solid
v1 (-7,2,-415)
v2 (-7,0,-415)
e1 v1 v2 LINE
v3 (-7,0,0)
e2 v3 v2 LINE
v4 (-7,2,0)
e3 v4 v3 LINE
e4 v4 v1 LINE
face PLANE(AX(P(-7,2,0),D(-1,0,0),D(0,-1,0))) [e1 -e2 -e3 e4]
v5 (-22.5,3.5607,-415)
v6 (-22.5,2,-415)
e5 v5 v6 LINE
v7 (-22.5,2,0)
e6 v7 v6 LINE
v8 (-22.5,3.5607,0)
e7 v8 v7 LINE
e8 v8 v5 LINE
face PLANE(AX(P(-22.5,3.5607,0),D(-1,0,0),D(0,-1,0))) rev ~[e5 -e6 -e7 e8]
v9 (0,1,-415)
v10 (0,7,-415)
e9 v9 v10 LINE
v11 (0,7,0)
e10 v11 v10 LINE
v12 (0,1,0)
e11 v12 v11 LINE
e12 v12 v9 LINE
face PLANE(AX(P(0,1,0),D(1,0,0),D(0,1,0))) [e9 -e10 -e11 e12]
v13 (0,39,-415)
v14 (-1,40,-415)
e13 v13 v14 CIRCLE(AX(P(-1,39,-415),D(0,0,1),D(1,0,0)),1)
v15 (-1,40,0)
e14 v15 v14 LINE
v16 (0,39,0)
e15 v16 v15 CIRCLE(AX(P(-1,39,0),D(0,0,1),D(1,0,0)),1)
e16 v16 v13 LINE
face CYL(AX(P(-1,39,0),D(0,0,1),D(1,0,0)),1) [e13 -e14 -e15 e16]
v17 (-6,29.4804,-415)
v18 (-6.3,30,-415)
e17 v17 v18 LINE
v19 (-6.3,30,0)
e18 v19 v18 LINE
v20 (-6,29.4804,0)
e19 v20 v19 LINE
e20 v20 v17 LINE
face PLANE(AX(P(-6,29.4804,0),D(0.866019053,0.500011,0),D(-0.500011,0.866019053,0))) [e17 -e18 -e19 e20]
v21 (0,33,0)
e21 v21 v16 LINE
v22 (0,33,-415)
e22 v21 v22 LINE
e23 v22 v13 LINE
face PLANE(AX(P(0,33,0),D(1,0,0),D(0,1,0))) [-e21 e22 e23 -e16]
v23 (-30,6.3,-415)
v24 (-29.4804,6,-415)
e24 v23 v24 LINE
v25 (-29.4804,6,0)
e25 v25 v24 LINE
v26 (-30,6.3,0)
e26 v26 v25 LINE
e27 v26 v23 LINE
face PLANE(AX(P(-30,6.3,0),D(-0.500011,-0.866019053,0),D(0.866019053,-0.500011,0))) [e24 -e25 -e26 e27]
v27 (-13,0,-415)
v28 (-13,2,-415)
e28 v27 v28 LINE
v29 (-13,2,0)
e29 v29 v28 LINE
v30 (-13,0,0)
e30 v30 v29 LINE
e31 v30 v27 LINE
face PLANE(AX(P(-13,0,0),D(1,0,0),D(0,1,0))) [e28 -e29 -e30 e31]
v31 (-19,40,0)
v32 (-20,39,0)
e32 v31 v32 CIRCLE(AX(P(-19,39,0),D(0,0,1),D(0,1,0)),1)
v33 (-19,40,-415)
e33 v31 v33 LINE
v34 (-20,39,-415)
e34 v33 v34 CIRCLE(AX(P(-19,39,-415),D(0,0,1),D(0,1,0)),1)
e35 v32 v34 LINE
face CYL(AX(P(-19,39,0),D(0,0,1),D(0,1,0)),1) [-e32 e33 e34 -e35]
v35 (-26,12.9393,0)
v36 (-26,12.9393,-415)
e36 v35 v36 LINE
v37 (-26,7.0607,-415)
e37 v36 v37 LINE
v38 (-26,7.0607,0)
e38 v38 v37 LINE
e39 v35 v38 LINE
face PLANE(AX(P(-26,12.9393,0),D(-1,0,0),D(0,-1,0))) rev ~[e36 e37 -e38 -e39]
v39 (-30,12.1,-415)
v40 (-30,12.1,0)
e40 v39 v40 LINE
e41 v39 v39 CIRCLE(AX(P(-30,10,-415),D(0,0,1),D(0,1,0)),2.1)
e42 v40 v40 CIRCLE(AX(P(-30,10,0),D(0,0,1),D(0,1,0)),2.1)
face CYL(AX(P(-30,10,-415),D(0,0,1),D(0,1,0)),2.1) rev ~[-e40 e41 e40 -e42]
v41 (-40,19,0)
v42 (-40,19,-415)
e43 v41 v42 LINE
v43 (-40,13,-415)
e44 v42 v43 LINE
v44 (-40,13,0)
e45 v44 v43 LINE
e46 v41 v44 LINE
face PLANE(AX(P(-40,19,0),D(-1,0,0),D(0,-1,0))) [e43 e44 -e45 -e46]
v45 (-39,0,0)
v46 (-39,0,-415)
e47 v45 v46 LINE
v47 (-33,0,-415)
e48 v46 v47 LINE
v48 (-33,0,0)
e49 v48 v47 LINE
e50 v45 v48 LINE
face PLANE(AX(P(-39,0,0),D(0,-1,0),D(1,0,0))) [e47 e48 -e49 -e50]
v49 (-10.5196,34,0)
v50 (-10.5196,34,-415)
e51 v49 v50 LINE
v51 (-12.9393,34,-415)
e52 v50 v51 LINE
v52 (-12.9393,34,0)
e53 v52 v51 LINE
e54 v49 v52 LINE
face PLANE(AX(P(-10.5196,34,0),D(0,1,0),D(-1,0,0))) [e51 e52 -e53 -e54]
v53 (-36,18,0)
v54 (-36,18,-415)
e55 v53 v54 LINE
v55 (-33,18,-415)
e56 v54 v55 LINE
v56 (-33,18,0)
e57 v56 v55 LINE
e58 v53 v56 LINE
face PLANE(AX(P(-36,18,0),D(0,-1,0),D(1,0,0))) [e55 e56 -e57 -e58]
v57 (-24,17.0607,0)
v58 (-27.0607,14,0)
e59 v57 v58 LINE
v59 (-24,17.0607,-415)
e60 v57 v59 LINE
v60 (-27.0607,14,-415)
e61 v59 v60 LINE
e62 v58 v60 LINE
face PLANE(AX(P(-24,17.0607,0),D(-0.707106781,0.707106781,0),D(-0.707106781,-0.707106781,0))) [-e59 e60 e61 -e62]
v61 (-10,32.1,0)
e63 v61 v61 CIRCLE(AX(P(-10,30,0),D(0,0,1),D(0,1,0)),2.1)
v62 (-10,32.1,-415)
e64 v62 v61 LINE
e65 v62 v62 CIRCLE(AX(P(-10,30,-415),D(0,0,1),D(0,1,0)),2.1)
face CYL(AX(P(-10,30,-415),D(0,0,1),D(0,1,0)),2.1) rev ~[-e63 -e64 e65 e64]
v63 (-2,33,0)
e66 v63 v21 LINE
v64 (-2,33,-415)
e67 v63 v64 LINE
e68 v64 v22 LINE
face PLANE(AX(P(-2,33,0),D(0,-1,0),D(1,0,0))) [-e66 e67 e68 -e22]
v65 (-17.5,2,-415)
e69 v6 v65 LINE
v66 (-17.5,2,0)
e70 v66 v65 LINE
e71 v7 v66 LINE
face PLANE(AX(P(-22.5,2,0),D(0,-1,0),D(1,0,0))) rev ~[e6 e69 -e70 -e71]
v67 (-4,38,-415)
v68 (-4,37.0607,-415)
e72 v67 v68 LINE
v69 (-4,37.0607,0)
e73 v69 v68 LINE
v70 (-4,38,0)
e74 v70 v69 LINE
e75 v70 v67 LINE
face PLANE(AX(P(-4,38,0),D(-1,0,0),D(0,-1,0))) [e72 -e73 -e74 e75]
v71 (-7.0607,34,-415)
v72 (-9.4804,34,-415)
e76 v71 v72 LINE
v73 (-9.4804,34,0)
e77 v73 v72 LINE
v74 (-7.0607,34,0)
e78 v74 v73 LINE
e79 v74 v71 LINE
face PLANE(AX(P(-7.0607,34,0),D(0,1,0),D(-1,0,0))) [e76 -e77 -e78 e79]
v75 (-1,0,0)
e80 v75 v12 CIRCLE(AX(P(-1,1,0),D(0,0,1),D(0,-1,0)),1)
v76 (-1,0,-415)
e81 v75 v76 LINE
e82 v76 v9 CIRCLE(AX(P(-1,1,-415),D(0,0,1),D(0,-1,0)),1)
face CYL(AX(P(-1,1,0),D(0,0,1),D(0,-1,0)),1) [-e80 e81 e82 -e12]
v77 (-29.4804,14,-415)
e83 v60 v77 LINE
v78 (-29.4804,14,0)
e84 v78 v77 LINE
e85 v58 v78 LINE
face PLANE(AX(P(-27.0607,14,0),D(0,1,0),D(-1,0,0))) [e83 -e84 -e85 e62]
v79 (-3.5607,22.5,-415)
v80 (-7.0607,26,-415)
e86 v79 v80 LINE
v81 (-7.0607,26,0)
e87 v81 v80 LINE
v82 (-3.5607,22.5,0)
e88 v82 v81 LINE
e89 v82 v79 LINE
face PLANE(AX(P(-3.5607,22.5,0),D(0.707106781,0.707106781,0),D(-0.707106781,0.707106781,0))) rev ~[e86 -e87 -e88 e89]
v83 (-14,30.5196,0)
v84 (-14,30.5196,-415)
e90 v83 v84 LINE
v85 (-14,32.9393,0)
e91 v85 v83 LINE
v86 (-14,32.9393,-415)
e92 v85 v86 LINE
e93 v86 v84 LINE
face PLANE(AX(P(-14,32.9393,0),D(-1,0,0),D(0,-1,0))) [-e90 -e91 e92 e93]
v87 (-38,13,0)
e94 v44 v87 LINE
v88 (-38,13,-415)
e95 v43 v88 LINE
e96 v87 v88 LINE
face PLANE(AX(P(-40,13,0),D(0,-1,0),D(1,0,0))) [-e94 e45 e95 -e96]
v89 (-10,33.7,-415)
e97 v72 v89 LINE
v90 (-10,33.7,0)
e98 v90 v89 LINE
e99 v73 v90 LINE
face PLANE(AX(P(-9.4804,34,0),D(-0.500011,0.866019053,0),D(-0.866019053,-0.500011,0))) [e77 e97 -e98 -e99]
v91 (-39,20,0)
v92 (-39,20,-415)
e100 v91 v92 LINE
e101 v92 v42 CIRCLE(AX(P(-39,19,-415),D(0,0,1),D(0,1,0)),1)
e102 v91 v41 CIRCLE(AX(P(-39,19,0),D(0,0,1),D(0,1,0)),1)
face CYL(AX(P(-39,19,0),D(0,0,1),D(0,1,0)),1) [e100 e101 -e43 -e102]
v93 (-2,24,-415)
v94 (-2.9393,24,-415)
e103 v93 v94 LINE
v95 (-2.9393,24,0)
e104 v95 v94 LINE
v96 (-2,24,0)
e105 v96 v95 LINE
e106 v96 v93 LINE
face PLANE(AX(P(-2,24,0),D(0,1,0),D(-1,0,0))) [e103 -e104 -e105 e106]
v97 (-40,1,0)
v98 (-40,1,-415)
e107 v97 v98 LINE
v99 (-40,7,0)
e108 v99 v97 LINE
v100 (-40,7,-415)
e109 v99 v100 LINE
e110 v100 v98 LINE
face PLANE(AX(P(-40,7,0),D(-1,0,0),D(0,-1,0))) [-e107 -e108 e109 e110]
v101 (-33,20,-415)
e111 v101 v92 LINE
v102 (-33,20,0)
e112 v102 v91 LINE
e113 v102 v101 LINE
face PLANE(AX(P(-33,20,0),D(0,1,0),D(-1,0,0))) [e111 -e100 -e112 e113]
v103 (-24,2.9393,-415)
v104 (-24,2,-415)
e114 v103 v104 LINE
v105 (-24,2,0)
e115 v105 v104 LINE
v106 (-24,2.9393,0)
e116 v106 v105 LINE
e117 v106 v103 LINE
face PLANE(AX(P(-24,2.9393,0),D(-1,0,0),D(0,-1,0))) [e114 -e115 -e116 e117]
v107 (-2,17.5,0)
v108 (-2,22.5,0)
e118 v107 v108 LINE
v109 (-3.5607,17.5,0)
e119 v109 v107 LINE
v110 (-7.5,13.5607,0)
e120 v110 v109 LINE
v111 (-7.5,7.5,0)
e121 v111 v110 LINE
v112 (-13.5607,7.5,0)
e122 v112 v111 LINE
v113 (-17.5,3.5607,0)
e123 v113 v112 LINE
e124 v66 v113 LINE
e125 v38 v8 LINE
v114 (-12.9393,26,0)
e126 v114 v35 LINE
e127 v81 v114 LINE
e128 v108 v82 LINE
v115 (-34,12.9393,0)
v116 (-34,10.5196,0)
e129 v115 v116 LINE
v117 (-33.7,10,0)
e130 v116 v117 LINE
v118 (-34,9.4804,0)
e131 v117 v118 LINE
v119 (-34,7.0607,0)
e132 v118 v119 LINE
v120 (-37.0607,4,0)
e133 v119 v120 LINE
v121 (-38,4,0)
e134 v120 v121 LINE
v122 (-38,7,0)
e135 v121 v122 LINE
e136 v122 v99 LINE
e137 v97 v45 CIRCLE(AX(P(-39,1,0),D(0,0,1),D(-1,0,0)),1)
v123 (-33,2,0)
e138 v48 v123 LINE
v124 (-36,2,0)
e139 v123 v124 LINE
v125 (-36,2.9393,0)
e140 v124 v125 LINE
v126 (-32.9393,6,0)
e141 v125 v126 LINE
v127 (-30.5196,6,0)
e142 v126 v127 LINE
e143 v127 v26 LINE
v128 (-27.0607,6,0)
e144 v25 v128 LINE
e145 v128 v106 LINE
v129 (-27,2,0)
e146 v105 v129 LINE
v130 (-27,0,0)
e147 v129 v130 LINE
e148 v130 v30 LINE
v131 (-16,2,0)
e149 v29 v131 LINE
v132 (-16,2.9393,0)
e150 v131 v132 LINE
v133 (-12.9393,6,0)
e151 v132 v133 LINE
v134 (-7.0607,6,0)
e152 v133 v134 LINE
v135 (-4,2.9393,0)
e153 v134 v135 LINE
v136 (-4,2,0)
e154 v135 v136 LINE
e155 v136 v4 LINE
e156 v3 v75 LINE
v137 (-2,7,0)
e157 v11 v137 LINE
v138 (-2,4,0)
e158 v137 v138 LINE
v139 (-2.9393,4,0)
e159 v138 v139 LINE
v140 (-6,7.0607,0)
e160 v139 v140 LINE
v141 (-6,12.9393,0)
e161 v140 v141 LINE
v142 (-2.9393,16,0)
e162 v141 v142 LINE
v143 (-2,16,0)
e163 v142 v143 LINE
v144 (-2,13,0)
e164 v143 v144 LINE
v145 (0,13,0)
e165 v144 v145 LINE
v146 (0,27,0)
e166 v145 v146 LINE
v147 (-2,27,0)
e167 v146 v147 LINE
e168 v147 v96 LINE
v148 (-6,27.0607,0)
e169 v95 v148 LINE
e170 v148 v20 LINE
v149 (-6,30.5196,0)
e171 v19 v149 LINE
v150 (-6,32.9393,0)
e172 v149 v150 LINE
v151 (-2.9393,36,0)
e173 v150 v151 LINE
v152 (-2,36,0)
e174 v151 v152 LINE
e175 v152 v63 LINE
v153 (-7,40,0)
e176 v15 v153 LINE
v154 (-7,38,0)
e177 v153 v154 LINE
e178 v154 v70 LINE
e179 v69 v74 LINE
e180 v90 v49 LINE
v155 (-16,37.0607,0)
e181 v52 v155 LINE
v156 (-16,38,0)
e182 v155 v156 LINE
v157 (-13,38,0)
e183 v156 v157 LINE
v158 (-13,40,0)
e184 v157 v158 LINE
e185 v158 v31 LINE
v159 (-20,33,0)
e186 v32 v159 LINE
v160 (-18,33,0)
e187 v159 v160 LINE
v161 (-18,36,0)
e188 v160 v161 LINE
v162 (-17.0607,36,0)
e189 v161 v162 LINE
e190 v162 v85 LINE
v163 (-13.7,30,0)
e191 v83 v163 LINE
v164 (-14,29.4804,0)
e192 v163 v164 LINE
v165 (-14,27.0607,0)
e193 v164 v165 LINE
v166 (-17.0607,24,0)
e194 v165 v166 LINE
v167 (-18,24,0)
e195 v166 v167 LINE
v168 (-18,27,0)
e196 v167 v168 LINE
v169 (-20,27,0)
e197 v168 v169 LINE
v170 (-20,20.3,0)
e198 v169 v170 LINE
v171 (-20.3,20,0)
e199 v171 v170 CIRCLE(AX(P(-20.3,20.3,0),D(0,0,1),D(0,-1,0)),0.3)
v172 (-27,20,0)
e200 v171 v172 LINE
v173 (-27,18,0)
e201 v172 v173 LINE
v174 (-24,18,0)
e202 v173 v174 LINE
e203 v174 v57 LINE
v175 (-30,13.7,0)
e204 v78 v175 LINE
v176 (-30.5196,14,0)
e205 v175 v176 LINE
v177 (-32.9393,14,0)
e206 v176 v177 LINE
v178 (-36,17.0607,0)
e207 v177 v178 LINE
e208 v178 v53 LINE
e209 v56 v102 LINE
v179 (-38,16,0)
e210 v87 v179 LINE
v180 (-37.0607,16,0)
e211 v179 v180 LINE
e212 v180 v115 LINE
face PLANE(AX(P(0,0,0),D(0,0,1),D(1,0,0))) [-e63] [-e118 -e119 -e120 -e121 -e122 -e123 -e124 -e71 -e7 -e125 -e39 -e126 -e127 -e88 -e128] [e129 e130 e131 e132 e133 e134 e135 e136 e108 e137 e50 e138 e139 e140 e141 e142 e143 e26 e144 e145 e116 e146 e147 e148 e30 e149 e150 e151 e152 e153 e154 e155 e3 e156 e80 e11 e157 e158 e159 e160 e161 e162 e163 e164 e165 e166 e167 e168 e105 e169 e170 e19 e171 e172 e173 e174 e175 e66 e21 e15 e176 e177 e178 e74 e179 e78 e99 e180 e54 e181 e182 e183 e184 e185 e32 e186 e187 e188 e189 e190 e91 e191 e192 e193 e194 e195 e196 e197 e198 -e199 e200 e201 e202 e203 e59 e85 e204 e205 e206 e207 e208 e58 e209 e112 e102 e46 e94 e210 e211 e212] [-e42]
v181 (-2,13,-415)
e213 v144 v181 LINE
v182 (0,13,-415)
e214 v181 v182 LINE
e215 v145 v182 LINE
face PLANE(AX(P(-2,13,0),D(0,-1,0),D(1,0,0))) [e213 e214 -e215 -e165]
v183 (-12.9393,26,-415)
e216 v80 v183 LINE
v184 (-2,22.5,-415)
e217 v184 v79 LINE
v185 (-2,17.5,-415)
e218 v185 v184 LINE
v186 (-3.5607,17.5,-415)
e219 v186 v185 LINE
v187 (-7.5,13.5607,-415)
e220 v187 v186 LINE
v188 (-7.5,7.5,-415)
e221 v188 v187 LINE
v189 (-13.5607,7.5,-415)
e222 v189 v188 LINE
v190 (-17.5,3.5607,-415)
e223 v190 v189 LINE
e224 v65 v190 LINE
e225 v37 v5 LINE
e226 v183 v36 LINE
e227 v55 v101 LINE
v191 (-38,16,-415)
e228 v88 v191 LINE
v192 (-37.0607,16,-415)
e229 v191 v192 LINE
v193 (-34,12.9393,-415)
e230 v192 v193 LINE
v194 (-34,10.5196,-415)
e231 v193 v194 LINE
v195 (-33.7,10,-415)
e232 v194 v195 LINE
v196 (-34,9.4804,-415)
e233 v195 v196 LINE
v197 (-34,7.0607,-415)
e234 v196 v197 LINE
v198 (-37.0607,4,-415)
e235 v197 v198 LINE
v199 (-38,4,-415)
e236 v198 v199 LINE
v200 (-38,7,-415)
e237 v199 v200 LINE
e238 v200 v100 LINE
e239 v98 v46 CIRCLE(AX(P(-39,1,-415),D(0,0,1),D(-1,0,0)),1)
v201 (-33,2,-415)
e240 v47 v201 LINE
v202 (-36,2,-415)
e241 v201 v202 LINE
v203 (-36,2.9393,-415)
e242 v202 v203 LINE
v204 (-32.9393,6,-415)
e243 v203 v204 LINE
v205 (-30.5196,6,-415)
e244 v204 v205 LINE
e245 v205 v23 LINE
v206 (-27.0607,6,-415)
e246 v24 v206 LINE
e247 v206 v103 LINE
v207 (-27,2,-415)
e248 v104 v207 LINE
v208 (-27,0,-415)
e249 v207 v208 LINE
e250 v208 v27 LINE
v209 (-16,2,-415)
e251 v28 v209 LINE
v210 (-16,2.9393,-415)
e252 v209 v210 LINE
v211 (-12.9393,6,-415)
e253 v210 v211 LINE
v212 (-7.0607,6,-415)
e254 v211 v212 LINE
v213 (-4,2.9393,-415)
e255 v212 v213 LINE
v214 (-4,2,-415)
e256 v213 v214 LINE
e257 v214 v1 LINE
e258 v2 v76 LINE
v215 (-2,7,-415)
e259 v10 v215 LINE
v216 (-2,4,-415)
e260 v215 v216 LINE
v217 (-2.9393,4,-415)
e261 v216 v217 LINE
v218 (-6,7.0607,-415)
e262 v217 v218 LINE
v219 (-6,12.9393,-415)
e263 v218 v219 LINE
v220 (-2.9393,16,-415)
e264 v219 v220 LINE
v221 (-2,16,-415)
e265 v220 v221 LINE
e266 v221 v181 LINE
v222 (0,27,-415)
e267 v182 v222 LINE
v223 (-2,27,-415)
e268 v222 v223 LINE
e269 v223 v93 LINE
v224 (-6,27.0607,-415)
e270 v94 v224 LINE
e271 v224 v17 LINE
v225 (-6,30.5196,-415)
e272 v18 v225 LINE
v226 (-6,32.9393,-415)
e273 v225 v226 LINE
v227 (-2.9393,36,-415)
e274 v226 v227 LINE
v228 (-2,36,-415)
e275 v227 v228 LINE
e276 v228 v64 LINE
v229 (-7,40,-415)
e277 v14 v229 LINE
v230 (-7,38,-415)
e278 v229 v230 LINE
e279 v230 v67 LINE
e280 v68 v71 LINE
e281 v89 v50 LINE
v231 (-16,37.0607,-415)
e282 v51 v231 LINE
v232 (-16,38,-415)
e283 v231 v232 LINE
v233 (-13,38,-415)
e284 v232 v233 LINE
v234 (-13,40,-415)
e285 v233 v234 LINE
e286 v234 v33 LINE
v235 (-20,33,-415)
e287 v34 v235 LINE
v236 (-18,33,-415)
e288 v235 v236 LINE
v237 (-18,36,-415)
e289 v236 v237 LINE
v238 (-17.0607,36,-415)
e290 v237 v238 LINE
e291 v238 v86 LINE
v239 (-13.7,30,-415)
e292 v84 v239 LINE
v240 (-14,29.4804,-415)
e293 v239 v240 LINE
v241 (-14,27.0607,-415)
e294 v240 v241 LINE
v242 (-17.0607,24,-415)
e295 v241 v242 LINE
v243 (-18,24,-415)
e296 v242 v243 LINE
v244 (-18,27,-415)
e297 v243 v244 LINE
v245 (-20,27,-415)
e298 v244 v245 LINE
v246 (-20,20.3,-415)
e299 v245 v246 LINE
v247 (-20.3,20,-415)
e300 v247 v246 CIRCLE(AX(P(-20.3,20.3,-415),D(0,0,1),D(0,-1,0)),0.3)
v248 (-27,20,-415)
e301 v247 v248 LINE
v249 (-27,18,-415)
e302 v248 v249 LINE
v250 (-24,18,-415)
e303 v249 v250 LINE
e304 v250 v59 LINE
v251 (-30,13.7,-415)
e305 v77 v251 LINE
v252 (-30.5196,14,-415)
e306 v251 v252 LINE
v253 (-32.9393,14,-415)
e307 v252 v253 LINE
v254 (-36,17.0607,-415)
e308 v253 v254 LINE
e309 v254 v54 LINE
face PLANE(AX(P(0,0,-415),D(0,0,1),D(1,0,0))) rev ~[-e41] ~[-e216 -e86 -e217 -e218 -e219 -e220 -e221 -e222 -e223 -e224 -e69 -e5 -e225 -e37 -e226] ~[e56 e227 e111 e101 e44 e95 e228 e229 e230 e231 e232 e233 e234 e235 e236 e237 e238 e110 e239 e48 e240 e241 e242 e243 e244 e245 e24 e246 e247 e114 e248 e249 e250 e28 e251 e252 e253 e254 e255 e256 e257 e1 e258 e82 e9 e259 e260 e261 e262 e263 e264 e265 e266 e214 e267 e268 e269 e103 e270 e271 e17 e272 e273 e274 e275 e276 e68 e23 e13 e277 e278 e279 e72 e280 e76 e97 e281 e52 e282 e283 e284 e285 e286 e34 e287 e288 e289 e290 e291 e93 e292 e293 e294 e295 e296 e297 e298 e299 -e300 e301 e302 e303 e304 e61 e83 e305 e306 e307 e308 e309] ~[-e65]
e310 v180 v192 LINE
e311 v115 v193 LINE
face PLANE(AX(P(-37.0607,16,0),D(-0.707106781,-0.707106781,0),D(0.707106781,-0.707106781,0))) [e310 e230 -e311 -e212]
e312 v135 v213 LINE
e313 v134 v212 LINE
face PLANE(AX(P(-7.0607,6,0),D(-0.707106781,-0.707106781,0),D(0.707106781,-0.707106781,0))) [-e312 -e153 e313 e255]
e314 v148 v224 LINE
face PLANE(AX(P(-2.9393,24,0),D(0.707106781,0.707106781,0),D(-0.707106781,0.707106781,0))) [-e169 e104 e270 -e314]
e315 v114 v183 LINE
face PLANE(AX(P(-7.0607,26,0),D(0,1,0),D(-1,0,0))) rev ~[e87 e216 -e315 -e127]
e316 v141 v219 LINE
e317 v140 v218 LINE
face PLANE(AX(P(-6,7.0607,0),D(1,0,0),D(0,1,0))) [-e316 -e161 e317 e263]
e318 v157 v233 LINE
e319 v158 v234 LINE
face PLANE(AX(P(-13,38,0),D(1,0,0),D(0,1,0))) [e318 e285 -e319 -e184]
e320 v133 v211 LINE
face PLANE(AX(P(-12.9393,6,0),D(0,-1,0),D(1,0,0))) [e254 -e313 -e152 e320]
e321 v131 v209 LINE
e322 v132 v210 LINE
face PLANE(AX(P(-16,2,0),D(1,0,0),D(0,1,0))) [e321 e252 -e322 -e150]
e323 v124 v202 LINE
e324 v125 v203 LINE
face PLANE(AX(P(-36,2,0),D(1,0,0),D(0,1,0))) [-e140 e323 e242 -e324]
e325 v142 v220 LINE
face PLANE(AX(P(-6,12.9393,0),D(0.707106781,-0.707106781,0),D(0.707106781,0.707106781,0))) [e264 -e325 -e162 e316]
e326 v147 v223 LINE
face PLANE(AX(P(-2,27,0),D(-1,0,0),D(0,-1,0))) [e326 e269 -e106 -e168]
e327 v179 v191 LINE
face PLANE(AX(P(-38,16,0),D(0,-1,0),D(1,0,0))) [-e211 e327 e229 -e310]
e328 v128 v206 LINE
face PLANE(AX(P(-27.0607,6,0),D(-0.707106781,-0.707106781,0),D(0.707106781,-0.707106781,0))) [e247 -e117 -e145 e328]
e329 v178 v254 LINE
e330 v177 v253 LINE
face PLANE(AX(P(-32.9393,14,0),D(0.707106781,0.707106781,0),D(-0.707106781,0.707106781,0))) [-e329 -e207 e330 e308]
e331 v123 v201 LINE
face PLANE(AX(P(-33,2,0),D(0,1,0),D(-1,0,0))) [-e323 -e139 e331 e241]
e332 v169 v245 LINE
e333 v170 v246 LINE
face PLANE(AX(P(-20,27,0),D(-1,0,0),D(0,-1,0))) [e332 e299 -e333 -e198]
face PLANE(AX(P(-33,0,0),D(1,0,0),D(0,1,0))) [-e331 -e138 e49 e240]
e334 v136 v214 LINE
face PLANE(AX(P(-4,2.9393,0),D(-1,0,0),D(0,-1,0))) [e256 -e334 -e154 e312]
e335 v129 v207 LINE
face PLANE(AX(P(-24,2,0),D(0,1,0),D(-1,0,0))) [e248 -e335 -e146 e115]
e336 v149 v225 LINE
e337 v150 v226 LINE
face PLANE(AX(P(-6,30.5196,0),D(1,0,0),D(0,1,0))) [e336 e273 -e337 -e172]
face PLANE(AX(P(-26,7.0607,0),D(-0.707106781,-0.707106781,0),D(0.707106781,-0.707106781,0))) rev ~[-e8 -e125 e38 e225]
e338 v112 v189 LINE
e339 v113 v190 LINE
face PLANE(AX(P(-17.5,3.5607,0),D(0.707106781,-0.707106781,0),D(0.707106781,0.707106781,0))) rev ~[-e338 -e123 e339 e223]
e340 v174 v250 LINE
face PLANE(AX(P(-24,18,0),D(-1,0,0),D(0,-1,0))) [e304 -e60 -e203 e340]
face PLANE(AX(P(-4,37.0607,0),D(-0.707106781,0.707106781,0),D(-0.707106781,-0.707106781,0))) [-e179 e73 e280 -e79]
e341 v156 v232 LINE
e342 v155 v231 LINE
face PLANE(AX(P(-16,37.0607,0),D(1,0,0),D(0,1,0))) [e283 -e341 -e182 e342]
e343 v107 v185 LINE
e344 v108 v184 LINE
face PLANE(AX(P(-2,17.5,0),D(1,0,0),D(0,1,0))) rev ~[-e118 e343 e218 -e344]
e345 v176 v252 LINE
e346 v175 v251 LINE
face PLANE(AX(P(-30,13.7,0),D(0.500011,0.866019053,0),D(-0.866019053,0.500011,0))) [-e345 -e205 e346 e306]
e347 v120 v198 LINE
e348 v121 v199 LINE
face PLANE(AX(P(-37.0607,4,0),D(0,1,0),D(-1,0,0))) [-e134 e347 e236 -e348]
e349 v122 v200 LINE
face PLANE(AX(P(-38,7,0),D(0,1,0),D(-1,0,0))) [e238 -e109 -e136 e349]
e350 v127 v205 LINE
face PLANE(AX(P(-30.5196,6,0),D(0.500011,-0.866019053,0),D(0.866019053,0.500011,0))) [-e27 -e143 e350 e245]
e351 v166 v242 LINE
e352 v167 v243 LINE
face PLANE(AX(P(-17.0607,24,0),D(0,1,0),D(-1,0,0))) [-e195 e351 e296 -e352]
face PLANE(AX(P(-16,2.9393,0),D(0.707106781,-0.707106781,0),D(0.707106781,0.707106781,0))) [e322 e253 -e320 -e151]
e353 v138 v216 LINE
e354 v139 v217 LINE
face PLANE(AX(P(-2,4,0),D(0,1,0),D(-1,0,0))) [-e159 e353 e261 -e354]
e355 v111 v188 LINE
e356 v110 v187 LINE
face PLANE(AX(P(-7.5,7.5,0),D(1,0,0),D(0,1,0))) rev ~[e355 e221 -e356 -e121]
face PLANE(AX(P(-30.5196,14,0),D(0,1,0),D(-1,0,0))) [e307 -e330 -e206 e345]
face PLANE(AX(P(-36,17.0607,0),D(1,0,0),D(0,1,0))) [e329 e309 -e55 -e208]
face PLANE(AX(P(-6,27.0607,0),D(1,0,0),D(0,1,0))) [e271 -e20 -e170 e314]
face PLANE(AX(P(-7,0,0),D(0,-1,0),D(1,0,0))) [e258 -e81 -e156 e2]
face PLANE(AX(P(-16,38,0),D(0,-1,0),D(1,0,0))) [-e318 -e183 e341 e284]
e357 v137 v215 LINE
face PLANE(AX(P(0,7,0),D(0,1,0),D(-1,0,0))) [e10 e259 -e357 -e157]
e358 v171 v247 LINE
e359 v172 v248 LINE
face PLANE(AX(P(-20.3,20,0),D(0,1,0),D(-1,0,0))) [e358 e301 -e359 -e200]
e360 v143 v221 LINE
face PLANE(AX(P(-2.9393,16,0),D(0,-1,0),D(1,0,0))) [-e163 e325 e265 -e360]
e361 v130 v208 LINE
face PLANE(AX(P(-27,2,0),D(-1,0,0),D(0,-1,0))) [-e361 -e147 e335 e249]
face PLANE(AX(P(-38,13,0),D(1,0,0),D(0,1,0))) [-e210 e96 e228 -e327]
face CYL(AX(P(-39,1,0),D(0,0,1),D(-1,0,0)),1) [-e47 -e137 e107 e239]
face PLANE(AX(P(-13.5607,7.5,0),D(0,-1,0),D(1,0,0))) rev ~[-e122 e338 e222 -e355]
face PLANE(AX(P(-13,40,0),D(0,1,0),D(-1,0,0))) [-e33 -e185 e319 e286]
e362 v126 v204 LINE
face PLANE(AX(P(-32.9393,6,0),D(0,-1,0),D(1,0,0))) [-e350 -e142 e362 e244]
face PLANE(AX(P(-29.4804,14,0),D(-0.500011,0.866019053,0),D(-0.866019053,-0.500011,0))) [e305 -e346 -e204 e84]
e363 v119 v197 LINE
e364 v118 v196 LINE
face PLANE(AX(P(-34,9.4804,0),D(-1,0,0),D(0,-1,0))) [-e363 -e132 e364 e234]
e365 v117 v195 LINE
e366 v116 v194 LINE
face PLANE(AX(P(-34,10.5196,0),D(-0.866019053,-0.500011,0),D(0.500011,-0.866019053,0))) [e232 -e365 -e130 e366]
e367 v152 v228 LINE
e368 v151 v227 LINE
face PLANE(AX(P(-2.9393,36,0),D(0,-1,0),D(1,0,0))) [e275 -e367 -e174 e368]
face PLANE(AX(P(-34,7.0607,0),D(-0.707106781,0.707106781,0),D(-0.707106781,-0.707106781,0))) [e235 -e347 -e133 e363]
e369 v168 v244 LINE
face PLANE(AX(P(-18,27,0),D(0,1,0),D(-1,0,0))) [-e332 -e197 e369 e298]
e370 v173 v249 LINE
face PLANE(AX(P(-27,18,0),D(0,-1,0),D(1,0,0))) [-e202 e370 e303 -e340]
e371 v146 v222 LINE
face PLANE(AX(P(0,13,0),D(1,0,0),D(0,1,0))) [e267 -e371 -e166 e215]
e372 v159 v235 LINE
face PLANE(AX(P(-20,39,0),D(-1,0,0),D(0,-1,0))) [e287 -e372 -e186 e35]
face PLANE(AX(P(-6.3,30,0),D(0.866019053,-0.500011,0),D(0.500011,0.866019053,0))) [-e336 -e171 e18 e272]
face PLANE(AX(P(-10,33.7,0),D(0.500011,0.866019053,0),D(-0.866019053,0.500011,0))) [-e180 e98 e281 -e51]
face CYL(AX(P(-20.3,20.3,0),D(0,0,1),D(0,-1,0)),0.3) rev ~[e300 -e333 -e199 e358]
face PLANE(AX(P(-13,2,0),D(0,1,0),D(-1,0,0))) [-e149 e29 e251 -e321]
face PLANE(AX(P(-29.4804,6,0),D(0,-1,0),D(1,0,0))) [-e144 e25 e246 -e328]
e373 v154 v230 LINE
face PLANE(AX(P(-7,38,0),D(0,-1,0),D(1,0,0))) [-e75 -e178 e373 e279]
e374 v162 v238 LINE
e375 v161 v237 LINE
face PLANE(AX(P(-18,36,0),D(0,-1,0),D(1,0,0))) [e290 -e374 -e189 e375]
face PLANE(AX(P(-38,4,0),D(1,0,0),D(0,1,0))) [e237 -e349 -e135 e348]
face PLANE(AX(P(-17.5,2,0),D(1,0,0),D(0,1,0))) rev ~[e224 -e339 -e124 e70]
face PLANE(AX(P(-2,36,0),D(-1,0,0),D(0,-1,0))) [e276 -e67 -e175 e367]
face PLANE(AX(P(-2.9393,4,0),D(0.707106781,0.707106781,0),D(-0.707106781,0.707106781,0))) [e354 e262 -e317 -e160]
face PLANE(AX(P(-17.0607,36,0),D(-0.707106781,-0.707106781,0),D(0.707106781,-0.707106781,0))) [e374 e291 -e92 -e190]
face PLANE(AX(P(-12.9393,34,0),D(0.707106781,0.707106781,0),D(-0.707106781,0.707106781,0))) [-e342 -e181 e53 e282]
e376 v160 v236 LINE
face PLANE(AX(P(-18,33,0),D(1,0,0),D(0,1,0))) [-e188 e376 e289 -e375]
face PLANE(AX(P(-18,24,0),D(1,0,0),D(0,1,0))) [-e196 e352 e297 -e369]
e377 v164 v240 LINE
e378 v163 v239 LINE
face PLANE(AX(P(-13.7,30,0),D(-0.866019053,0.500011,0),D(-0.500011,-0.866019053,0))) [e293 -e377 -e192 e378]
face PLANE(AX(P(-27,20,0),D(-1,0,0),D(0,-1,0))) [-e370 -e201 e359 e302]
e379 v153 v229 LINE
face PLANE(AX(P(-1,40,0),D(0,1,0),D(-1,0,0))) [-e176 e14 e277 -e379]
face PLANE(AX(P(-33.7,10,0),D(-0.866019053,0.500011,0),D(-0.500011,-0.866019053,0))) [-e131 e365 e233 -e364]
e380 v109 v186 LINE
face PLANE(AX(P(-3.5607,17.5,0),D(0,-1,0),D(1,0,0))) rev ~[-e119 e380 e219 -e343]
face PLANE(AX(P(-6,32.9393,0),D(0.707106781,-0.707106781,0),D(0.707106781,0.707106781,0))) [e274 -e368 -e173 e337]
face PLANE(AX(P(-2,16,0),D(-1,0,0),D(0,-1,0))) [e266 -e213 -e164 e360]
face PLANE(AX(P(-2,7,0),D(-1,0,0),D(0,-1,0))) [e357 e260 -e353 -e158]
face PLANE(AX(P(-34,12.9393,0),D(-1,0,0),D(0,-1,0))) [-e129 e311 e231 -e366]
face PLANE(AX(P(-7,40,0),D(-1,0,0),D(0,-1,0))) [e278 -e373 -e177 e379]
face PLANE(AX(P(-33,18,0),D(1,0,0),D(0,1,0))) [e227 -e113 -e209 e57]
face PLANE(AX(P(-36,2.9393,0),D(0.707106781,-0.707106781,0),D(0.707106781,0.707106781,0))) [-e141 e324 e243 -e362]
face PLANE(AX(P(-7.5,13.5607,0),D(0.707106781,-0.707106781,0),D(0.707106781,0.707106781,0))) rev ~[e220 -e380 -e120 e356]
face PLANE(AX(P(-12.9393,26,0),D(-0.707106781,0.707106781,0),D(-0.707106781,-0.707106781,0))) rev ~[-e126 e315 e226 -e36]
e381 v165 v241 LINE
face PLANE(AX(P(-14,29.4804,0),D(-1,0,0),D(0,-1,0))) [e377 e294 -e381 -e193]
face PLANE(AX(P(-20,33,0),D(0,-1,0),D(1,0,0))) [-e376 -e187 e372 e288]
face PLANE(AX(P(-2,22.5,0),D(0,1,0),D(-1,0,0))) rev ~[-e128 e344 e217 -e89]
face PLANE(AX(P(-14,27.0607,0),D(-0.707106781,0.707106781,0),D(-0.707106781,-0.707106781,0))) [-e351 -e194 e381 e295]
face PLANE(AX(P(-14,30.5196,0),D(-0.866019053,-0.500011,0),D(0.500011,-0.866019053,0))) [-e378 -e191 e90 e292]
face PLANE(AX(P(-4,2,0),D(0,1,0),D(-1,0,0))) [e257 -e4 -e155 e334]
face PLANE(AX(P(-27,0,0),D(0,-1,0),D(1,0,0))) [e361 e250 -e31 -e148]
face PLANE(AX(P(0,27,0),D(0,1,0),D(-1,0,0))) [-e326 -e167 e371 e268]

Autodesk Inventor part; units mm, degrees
ref_plane "YZ Plane" through (0, 0, 0) normal (1, 0, 0) x (0, 1, 0)
ref_plane "XZ Plane" through (0, 0, 0) normal (0, 1, 0) x (-1, 0, 0)
ref_plane "XY Plane" through (0, 0, 0) normal (0, 0, 1) x (1, 0, 0)
sketch "Sketch_1" plane through (0, 0, 0) normal (0, 0, 1) x (1, 0, 0)
  line L0 (-40, 19) -> (-40, 13)
  line L1 (-40, 13) -> (-38, 13)
  line L2 (-38, 13) -> (-38, 16)
  line L3 (-38, 16) -> (-37.0607, 16)
  line L4 (-37.0607, 16) -> (-34, 12.9393)
  line L5 (-34, 12.9393) -> (-34, 10.5196)
  line L6 (-34, 10.5196) -> (-33.7, 10)
  line L7 (-33.7, 10) -> (-34, 9.4804)
  line L8 (-34, 9.4804) -> (-34, 7.0607)
  line L9 (-34, 7.0607) -> (-37.0607, 4)
  line L10 (-37.0607, 4) -> (-38, 4)
  line L11 (-38, 4) -> (-38, 7)
  line L12 (-38, 7) -> (-40, 7)
  line L13 (-40, 7) -> (-40, 1)
  arc A0 (-40, 1) -> (-39, 0) centre (-39, 1) ccw
  line L14 (-39, 0) -> (-33, 0)
  line L15 (-33, 0) -> (-33, 2)
  line L16 (-33, 2) -> (-36, 2)
  line L17 (-36, 2) -> (-36, 2.9393)
  line L18 (-36, 2.9393) -> (-32.9393, 6)
  line L19 (-32.9393, 6) -> (-30.5196, 6)
  line L20 (-30.5196, 6) -> (-30, 6.3)
  line L21 (-30, 6.3) -> (-29.4804, 6)
  line L22 (-29.4804, 6) -> (-27.0607, 6)
  line L23 (-27.0607, 6) -> (-24, 2.9393)
  line L24 (-24, 2.9393) -> (-24, 2)
  line L25 (-24, 2) -> (-27, 2)
  line L26 (-27, 2) -> (-27, 0)
  line L27 (-27, 0) -> (-13, 0)
  line L28 (-13, 0) -> (-13, 2)
  line L29 (-13, 2) -> (-16, 2)
  line L30 (-16, 2) -> (-16, 2.9393)
  line L31 (-16, 2.9393) -> (-12.9393, 6)
  line L32 (-12.9393, 6) -> (-7.0607, 6)
  line L33 (-7.0607, 6) -> (-4, 2.9393)
  line L34 (-4, 2.9393) -> (-4, 2)
  line L35 (-4, 2) -> (-7, 2)
  line L36 (-7, 2) -> (-7, 0)
  line L37 (-7, 0) -> (-1, 0)
  arc A1 (-1, 0) -> (0, 1) centre (-1, 1) ccw
  line L38 (0, 1) -> (0, 7)
  line L39 (0, 7) -> (-2, 7)
  line L40 (-2, 7) -> (-2, 4)
  line L41 (-2, 4) -> (-2.9393, 4)
  line L42 (-2.9393, 4) -> (-6, 7.0607)
  line L43 (-6, 7.0607) -> (-6, 12.9393)
  line L44 (-6, 12.9393) -> (-2.9393, 16)
  line L45 (-2.9393, 16) -> (-2, 16)
  line L46 (-2, 16) -> (-2, 13)
  line L47 (-2, 13) -> (0, 13)
  line L48 (0, 13) -> (0, 27)
  line L49 (0, 27) -> (-2, 27)
  line L50 (-2, 27) -> (-2, 24)
  line L51 (-2, 24) -> (-2.9393, 24)
  line L52 (-2.9393, 24) -> (-6, 27.0607)
  line L53 (-6, 27.0607) -> (-6, 29.4804)
  line L54 (-6, 29.4804) -> (-6.3, 30)
  line L55 (-6.3, 30) -> (-6, 30.5196)
  line L56 (-6, 30.5196) -> (-6, 32.9393)
  line L57 (-6, 32.9393) -> (-2.9393, 36)
  line L58 (-2.9393, 36) -> (-2, 36)
  line L59 (-2, 36) -> (-2, 33)
  line L60 (-2, 33) -> (0, 33)
  line L61 (0, 33) -> (0, 39)
  arc A2 (0, 39) -> (-1, 40) centre (-1, 39) ccw
  line L62 (-1, 40) -> (-7, 40)
  line L63 (-7, 40) -> (-7, 38)
  line L64 (-7, 38) -> (-4, 38)
  line L65 (-4, 38) -> (-4, 37.0607)
  line L66 (-4, 37.0607) -> (-7.0607, 34)
  line L67 (-7.0607, 34) -> (-9.4804, 34)
  line L68 (-9.4804, 34) -> (-10, 33.7)
  line L69 (-10, 33.7) -> (-10.5196, 34)
  line L70 (-10.5196, 34) -> (-12.9393, 34)
  line L71 (-12.9393, 34) -> (-16, 37.0607)
  line L72 (-16, 37.0607) -> (-16, 38)
  line L73 (-16, 38) -> (-13, 38)
  line L74 (-13, 38) -> (-13, 40)
  line L75 (-13, 40) -> (-19, 40)
  arc A3 (-19, 40) -> (-20, 39) centre (-19, 39) ccw
  line L76 (-20, 39) -> (-20, 33)
  line L77 (-20, 33) -> (-18, 33)
  line L78 (-18, 33) -> (-18, 36)
  line L79 (-18, 36) -> (-17.0607, 36)
  line L80 (-17.0607, 36) -> (-14, 32.9393)
  line L81 (-14, 32.9393) -> (-14, 30.5196)
  line L82 (-14, 30.5196) -> (-13.7, 30)
  line L83 (-13.7, 30) -> (-14, 29.4804)
  line L84 (-14, 29.4804) -> (-14, 27.0607)
  line L85 (-14, 27.0607) -> (-17.0607, 24)
  line L86 (-17.0607, 24) -> (-18, 24)
  line L87 (-18, 24) -> (-18, 27)
  line L88 (-18, 27) -> (-20, 27)
  line L89 (-20, 27) -> (-20, 20.3)
  arc A4 (-20.3, 20) -> (-20, 20.3) centre (-20.3, 20.3) ccw
  line L90 (-20.3, 20) -> (-27, 20)
  line L91 (-27, 20) -> (-27, 18)
  line L92 (-27, 18) -> (-24, 18)
  line L93 (-24, 18) -> (-24, 17.0607)
  line L94 (-24, 17.0607) -> (-27.0607, 14)
  line L95 (-27.0607, 14) -> (-29.4804, 14)
  line L96 (-29.4804, 14) -> (-30, 13.7)
  line L97 (-30, 13.7) -> (-30.5196, 14)
  line L98 (-30.5196, 14) -> (-32.9393, 14)
  line L99 (-32.9393, 14) -> (-36, 17.0607)
  line L100 (-36, 17.0607) -> (-36, 18)
  line L101 (-36, 18) -> (-33, 18)
  line L102 (-33, 18) -> (-33, 20)
  line L103 (-33, 20) -> (-39, 20)
  arc A5 (-39, 20) -> (-40, 19) centre (-39, 19) ccw
  line L104 (-26, 7.0607) -> (-22.5, 3.5607)
  line L105 (-22.5, 3.5607) -> (-22.5, 2)
  line L106 (-22.5, 2) -> (-17.5, 2)
  line L107 (-17.5, 2) -> (-17.5, 3.5607)
  line L108 (-17.5, 3.5607) -> (-13.5607, 7.5)
  line L109 (-13.5607, 7.5) -> (-7.5, 7.5)
  line L110 (-7.5, 7.5) -> (-7.5, 13.5607)
  line L111 (-7.5, 13.5607) -> (-3.5607, 17.5)
  line L112 (-3.5607, 17.5) -> (-2, 17.5)
  line L113 (-2, 17.5) -> (-2, 22.5)
  line L114 (-2, 22.5) -> (-3.5607, 22.5)
  line L115 (-3.5607, 22.5) -> (-7.0607, 26)
  line L116 (-7.0607, 26) -> (-12.9393, 26)
  line L117 (-12.9393, 26) -> (-26, 12.9393)
  line L118 (-26, 12.9393) -> (-26, 7.0607)
extrude "Extrusion1" add sketch "Sketch_1" against normal blind 415
sketch "Sketch2" plane through (0, 0, -415) normal (0, 0, -1) x (-1, 0, 0)
  point P0 (10, 30)
hole "Hole1" at (-10, 30, -415) direction (0, 0, 1) diameter 4.2 end through all
sketch "Sketch3" plane through (0, 0, -415) normal (0, 0, -1) x (-1, 0, 0)
  point P0 (30, 10)
hole "Hole2" at (-30, 10, -415) direction (0, 0, 1) diameter 4.2 end through all
thread "Thread1" size "M5x0.8" class "6H" standard "ANSI Metric M Profile" length 10
thread "Thread2" size "M5x0.8" class "6H" standard "ANSI Metric M Profile" length 10
thread "Thread3" size "M5x0.8" class "6H" standard "ANSI Metric M Profile" length 10
thread "Thread4" size "M5x0.8" class "6H" standard "ANSI Metric M Profile" length 10
properties part number "4040 Top Rear Edge" material "Aluminum 6061"
